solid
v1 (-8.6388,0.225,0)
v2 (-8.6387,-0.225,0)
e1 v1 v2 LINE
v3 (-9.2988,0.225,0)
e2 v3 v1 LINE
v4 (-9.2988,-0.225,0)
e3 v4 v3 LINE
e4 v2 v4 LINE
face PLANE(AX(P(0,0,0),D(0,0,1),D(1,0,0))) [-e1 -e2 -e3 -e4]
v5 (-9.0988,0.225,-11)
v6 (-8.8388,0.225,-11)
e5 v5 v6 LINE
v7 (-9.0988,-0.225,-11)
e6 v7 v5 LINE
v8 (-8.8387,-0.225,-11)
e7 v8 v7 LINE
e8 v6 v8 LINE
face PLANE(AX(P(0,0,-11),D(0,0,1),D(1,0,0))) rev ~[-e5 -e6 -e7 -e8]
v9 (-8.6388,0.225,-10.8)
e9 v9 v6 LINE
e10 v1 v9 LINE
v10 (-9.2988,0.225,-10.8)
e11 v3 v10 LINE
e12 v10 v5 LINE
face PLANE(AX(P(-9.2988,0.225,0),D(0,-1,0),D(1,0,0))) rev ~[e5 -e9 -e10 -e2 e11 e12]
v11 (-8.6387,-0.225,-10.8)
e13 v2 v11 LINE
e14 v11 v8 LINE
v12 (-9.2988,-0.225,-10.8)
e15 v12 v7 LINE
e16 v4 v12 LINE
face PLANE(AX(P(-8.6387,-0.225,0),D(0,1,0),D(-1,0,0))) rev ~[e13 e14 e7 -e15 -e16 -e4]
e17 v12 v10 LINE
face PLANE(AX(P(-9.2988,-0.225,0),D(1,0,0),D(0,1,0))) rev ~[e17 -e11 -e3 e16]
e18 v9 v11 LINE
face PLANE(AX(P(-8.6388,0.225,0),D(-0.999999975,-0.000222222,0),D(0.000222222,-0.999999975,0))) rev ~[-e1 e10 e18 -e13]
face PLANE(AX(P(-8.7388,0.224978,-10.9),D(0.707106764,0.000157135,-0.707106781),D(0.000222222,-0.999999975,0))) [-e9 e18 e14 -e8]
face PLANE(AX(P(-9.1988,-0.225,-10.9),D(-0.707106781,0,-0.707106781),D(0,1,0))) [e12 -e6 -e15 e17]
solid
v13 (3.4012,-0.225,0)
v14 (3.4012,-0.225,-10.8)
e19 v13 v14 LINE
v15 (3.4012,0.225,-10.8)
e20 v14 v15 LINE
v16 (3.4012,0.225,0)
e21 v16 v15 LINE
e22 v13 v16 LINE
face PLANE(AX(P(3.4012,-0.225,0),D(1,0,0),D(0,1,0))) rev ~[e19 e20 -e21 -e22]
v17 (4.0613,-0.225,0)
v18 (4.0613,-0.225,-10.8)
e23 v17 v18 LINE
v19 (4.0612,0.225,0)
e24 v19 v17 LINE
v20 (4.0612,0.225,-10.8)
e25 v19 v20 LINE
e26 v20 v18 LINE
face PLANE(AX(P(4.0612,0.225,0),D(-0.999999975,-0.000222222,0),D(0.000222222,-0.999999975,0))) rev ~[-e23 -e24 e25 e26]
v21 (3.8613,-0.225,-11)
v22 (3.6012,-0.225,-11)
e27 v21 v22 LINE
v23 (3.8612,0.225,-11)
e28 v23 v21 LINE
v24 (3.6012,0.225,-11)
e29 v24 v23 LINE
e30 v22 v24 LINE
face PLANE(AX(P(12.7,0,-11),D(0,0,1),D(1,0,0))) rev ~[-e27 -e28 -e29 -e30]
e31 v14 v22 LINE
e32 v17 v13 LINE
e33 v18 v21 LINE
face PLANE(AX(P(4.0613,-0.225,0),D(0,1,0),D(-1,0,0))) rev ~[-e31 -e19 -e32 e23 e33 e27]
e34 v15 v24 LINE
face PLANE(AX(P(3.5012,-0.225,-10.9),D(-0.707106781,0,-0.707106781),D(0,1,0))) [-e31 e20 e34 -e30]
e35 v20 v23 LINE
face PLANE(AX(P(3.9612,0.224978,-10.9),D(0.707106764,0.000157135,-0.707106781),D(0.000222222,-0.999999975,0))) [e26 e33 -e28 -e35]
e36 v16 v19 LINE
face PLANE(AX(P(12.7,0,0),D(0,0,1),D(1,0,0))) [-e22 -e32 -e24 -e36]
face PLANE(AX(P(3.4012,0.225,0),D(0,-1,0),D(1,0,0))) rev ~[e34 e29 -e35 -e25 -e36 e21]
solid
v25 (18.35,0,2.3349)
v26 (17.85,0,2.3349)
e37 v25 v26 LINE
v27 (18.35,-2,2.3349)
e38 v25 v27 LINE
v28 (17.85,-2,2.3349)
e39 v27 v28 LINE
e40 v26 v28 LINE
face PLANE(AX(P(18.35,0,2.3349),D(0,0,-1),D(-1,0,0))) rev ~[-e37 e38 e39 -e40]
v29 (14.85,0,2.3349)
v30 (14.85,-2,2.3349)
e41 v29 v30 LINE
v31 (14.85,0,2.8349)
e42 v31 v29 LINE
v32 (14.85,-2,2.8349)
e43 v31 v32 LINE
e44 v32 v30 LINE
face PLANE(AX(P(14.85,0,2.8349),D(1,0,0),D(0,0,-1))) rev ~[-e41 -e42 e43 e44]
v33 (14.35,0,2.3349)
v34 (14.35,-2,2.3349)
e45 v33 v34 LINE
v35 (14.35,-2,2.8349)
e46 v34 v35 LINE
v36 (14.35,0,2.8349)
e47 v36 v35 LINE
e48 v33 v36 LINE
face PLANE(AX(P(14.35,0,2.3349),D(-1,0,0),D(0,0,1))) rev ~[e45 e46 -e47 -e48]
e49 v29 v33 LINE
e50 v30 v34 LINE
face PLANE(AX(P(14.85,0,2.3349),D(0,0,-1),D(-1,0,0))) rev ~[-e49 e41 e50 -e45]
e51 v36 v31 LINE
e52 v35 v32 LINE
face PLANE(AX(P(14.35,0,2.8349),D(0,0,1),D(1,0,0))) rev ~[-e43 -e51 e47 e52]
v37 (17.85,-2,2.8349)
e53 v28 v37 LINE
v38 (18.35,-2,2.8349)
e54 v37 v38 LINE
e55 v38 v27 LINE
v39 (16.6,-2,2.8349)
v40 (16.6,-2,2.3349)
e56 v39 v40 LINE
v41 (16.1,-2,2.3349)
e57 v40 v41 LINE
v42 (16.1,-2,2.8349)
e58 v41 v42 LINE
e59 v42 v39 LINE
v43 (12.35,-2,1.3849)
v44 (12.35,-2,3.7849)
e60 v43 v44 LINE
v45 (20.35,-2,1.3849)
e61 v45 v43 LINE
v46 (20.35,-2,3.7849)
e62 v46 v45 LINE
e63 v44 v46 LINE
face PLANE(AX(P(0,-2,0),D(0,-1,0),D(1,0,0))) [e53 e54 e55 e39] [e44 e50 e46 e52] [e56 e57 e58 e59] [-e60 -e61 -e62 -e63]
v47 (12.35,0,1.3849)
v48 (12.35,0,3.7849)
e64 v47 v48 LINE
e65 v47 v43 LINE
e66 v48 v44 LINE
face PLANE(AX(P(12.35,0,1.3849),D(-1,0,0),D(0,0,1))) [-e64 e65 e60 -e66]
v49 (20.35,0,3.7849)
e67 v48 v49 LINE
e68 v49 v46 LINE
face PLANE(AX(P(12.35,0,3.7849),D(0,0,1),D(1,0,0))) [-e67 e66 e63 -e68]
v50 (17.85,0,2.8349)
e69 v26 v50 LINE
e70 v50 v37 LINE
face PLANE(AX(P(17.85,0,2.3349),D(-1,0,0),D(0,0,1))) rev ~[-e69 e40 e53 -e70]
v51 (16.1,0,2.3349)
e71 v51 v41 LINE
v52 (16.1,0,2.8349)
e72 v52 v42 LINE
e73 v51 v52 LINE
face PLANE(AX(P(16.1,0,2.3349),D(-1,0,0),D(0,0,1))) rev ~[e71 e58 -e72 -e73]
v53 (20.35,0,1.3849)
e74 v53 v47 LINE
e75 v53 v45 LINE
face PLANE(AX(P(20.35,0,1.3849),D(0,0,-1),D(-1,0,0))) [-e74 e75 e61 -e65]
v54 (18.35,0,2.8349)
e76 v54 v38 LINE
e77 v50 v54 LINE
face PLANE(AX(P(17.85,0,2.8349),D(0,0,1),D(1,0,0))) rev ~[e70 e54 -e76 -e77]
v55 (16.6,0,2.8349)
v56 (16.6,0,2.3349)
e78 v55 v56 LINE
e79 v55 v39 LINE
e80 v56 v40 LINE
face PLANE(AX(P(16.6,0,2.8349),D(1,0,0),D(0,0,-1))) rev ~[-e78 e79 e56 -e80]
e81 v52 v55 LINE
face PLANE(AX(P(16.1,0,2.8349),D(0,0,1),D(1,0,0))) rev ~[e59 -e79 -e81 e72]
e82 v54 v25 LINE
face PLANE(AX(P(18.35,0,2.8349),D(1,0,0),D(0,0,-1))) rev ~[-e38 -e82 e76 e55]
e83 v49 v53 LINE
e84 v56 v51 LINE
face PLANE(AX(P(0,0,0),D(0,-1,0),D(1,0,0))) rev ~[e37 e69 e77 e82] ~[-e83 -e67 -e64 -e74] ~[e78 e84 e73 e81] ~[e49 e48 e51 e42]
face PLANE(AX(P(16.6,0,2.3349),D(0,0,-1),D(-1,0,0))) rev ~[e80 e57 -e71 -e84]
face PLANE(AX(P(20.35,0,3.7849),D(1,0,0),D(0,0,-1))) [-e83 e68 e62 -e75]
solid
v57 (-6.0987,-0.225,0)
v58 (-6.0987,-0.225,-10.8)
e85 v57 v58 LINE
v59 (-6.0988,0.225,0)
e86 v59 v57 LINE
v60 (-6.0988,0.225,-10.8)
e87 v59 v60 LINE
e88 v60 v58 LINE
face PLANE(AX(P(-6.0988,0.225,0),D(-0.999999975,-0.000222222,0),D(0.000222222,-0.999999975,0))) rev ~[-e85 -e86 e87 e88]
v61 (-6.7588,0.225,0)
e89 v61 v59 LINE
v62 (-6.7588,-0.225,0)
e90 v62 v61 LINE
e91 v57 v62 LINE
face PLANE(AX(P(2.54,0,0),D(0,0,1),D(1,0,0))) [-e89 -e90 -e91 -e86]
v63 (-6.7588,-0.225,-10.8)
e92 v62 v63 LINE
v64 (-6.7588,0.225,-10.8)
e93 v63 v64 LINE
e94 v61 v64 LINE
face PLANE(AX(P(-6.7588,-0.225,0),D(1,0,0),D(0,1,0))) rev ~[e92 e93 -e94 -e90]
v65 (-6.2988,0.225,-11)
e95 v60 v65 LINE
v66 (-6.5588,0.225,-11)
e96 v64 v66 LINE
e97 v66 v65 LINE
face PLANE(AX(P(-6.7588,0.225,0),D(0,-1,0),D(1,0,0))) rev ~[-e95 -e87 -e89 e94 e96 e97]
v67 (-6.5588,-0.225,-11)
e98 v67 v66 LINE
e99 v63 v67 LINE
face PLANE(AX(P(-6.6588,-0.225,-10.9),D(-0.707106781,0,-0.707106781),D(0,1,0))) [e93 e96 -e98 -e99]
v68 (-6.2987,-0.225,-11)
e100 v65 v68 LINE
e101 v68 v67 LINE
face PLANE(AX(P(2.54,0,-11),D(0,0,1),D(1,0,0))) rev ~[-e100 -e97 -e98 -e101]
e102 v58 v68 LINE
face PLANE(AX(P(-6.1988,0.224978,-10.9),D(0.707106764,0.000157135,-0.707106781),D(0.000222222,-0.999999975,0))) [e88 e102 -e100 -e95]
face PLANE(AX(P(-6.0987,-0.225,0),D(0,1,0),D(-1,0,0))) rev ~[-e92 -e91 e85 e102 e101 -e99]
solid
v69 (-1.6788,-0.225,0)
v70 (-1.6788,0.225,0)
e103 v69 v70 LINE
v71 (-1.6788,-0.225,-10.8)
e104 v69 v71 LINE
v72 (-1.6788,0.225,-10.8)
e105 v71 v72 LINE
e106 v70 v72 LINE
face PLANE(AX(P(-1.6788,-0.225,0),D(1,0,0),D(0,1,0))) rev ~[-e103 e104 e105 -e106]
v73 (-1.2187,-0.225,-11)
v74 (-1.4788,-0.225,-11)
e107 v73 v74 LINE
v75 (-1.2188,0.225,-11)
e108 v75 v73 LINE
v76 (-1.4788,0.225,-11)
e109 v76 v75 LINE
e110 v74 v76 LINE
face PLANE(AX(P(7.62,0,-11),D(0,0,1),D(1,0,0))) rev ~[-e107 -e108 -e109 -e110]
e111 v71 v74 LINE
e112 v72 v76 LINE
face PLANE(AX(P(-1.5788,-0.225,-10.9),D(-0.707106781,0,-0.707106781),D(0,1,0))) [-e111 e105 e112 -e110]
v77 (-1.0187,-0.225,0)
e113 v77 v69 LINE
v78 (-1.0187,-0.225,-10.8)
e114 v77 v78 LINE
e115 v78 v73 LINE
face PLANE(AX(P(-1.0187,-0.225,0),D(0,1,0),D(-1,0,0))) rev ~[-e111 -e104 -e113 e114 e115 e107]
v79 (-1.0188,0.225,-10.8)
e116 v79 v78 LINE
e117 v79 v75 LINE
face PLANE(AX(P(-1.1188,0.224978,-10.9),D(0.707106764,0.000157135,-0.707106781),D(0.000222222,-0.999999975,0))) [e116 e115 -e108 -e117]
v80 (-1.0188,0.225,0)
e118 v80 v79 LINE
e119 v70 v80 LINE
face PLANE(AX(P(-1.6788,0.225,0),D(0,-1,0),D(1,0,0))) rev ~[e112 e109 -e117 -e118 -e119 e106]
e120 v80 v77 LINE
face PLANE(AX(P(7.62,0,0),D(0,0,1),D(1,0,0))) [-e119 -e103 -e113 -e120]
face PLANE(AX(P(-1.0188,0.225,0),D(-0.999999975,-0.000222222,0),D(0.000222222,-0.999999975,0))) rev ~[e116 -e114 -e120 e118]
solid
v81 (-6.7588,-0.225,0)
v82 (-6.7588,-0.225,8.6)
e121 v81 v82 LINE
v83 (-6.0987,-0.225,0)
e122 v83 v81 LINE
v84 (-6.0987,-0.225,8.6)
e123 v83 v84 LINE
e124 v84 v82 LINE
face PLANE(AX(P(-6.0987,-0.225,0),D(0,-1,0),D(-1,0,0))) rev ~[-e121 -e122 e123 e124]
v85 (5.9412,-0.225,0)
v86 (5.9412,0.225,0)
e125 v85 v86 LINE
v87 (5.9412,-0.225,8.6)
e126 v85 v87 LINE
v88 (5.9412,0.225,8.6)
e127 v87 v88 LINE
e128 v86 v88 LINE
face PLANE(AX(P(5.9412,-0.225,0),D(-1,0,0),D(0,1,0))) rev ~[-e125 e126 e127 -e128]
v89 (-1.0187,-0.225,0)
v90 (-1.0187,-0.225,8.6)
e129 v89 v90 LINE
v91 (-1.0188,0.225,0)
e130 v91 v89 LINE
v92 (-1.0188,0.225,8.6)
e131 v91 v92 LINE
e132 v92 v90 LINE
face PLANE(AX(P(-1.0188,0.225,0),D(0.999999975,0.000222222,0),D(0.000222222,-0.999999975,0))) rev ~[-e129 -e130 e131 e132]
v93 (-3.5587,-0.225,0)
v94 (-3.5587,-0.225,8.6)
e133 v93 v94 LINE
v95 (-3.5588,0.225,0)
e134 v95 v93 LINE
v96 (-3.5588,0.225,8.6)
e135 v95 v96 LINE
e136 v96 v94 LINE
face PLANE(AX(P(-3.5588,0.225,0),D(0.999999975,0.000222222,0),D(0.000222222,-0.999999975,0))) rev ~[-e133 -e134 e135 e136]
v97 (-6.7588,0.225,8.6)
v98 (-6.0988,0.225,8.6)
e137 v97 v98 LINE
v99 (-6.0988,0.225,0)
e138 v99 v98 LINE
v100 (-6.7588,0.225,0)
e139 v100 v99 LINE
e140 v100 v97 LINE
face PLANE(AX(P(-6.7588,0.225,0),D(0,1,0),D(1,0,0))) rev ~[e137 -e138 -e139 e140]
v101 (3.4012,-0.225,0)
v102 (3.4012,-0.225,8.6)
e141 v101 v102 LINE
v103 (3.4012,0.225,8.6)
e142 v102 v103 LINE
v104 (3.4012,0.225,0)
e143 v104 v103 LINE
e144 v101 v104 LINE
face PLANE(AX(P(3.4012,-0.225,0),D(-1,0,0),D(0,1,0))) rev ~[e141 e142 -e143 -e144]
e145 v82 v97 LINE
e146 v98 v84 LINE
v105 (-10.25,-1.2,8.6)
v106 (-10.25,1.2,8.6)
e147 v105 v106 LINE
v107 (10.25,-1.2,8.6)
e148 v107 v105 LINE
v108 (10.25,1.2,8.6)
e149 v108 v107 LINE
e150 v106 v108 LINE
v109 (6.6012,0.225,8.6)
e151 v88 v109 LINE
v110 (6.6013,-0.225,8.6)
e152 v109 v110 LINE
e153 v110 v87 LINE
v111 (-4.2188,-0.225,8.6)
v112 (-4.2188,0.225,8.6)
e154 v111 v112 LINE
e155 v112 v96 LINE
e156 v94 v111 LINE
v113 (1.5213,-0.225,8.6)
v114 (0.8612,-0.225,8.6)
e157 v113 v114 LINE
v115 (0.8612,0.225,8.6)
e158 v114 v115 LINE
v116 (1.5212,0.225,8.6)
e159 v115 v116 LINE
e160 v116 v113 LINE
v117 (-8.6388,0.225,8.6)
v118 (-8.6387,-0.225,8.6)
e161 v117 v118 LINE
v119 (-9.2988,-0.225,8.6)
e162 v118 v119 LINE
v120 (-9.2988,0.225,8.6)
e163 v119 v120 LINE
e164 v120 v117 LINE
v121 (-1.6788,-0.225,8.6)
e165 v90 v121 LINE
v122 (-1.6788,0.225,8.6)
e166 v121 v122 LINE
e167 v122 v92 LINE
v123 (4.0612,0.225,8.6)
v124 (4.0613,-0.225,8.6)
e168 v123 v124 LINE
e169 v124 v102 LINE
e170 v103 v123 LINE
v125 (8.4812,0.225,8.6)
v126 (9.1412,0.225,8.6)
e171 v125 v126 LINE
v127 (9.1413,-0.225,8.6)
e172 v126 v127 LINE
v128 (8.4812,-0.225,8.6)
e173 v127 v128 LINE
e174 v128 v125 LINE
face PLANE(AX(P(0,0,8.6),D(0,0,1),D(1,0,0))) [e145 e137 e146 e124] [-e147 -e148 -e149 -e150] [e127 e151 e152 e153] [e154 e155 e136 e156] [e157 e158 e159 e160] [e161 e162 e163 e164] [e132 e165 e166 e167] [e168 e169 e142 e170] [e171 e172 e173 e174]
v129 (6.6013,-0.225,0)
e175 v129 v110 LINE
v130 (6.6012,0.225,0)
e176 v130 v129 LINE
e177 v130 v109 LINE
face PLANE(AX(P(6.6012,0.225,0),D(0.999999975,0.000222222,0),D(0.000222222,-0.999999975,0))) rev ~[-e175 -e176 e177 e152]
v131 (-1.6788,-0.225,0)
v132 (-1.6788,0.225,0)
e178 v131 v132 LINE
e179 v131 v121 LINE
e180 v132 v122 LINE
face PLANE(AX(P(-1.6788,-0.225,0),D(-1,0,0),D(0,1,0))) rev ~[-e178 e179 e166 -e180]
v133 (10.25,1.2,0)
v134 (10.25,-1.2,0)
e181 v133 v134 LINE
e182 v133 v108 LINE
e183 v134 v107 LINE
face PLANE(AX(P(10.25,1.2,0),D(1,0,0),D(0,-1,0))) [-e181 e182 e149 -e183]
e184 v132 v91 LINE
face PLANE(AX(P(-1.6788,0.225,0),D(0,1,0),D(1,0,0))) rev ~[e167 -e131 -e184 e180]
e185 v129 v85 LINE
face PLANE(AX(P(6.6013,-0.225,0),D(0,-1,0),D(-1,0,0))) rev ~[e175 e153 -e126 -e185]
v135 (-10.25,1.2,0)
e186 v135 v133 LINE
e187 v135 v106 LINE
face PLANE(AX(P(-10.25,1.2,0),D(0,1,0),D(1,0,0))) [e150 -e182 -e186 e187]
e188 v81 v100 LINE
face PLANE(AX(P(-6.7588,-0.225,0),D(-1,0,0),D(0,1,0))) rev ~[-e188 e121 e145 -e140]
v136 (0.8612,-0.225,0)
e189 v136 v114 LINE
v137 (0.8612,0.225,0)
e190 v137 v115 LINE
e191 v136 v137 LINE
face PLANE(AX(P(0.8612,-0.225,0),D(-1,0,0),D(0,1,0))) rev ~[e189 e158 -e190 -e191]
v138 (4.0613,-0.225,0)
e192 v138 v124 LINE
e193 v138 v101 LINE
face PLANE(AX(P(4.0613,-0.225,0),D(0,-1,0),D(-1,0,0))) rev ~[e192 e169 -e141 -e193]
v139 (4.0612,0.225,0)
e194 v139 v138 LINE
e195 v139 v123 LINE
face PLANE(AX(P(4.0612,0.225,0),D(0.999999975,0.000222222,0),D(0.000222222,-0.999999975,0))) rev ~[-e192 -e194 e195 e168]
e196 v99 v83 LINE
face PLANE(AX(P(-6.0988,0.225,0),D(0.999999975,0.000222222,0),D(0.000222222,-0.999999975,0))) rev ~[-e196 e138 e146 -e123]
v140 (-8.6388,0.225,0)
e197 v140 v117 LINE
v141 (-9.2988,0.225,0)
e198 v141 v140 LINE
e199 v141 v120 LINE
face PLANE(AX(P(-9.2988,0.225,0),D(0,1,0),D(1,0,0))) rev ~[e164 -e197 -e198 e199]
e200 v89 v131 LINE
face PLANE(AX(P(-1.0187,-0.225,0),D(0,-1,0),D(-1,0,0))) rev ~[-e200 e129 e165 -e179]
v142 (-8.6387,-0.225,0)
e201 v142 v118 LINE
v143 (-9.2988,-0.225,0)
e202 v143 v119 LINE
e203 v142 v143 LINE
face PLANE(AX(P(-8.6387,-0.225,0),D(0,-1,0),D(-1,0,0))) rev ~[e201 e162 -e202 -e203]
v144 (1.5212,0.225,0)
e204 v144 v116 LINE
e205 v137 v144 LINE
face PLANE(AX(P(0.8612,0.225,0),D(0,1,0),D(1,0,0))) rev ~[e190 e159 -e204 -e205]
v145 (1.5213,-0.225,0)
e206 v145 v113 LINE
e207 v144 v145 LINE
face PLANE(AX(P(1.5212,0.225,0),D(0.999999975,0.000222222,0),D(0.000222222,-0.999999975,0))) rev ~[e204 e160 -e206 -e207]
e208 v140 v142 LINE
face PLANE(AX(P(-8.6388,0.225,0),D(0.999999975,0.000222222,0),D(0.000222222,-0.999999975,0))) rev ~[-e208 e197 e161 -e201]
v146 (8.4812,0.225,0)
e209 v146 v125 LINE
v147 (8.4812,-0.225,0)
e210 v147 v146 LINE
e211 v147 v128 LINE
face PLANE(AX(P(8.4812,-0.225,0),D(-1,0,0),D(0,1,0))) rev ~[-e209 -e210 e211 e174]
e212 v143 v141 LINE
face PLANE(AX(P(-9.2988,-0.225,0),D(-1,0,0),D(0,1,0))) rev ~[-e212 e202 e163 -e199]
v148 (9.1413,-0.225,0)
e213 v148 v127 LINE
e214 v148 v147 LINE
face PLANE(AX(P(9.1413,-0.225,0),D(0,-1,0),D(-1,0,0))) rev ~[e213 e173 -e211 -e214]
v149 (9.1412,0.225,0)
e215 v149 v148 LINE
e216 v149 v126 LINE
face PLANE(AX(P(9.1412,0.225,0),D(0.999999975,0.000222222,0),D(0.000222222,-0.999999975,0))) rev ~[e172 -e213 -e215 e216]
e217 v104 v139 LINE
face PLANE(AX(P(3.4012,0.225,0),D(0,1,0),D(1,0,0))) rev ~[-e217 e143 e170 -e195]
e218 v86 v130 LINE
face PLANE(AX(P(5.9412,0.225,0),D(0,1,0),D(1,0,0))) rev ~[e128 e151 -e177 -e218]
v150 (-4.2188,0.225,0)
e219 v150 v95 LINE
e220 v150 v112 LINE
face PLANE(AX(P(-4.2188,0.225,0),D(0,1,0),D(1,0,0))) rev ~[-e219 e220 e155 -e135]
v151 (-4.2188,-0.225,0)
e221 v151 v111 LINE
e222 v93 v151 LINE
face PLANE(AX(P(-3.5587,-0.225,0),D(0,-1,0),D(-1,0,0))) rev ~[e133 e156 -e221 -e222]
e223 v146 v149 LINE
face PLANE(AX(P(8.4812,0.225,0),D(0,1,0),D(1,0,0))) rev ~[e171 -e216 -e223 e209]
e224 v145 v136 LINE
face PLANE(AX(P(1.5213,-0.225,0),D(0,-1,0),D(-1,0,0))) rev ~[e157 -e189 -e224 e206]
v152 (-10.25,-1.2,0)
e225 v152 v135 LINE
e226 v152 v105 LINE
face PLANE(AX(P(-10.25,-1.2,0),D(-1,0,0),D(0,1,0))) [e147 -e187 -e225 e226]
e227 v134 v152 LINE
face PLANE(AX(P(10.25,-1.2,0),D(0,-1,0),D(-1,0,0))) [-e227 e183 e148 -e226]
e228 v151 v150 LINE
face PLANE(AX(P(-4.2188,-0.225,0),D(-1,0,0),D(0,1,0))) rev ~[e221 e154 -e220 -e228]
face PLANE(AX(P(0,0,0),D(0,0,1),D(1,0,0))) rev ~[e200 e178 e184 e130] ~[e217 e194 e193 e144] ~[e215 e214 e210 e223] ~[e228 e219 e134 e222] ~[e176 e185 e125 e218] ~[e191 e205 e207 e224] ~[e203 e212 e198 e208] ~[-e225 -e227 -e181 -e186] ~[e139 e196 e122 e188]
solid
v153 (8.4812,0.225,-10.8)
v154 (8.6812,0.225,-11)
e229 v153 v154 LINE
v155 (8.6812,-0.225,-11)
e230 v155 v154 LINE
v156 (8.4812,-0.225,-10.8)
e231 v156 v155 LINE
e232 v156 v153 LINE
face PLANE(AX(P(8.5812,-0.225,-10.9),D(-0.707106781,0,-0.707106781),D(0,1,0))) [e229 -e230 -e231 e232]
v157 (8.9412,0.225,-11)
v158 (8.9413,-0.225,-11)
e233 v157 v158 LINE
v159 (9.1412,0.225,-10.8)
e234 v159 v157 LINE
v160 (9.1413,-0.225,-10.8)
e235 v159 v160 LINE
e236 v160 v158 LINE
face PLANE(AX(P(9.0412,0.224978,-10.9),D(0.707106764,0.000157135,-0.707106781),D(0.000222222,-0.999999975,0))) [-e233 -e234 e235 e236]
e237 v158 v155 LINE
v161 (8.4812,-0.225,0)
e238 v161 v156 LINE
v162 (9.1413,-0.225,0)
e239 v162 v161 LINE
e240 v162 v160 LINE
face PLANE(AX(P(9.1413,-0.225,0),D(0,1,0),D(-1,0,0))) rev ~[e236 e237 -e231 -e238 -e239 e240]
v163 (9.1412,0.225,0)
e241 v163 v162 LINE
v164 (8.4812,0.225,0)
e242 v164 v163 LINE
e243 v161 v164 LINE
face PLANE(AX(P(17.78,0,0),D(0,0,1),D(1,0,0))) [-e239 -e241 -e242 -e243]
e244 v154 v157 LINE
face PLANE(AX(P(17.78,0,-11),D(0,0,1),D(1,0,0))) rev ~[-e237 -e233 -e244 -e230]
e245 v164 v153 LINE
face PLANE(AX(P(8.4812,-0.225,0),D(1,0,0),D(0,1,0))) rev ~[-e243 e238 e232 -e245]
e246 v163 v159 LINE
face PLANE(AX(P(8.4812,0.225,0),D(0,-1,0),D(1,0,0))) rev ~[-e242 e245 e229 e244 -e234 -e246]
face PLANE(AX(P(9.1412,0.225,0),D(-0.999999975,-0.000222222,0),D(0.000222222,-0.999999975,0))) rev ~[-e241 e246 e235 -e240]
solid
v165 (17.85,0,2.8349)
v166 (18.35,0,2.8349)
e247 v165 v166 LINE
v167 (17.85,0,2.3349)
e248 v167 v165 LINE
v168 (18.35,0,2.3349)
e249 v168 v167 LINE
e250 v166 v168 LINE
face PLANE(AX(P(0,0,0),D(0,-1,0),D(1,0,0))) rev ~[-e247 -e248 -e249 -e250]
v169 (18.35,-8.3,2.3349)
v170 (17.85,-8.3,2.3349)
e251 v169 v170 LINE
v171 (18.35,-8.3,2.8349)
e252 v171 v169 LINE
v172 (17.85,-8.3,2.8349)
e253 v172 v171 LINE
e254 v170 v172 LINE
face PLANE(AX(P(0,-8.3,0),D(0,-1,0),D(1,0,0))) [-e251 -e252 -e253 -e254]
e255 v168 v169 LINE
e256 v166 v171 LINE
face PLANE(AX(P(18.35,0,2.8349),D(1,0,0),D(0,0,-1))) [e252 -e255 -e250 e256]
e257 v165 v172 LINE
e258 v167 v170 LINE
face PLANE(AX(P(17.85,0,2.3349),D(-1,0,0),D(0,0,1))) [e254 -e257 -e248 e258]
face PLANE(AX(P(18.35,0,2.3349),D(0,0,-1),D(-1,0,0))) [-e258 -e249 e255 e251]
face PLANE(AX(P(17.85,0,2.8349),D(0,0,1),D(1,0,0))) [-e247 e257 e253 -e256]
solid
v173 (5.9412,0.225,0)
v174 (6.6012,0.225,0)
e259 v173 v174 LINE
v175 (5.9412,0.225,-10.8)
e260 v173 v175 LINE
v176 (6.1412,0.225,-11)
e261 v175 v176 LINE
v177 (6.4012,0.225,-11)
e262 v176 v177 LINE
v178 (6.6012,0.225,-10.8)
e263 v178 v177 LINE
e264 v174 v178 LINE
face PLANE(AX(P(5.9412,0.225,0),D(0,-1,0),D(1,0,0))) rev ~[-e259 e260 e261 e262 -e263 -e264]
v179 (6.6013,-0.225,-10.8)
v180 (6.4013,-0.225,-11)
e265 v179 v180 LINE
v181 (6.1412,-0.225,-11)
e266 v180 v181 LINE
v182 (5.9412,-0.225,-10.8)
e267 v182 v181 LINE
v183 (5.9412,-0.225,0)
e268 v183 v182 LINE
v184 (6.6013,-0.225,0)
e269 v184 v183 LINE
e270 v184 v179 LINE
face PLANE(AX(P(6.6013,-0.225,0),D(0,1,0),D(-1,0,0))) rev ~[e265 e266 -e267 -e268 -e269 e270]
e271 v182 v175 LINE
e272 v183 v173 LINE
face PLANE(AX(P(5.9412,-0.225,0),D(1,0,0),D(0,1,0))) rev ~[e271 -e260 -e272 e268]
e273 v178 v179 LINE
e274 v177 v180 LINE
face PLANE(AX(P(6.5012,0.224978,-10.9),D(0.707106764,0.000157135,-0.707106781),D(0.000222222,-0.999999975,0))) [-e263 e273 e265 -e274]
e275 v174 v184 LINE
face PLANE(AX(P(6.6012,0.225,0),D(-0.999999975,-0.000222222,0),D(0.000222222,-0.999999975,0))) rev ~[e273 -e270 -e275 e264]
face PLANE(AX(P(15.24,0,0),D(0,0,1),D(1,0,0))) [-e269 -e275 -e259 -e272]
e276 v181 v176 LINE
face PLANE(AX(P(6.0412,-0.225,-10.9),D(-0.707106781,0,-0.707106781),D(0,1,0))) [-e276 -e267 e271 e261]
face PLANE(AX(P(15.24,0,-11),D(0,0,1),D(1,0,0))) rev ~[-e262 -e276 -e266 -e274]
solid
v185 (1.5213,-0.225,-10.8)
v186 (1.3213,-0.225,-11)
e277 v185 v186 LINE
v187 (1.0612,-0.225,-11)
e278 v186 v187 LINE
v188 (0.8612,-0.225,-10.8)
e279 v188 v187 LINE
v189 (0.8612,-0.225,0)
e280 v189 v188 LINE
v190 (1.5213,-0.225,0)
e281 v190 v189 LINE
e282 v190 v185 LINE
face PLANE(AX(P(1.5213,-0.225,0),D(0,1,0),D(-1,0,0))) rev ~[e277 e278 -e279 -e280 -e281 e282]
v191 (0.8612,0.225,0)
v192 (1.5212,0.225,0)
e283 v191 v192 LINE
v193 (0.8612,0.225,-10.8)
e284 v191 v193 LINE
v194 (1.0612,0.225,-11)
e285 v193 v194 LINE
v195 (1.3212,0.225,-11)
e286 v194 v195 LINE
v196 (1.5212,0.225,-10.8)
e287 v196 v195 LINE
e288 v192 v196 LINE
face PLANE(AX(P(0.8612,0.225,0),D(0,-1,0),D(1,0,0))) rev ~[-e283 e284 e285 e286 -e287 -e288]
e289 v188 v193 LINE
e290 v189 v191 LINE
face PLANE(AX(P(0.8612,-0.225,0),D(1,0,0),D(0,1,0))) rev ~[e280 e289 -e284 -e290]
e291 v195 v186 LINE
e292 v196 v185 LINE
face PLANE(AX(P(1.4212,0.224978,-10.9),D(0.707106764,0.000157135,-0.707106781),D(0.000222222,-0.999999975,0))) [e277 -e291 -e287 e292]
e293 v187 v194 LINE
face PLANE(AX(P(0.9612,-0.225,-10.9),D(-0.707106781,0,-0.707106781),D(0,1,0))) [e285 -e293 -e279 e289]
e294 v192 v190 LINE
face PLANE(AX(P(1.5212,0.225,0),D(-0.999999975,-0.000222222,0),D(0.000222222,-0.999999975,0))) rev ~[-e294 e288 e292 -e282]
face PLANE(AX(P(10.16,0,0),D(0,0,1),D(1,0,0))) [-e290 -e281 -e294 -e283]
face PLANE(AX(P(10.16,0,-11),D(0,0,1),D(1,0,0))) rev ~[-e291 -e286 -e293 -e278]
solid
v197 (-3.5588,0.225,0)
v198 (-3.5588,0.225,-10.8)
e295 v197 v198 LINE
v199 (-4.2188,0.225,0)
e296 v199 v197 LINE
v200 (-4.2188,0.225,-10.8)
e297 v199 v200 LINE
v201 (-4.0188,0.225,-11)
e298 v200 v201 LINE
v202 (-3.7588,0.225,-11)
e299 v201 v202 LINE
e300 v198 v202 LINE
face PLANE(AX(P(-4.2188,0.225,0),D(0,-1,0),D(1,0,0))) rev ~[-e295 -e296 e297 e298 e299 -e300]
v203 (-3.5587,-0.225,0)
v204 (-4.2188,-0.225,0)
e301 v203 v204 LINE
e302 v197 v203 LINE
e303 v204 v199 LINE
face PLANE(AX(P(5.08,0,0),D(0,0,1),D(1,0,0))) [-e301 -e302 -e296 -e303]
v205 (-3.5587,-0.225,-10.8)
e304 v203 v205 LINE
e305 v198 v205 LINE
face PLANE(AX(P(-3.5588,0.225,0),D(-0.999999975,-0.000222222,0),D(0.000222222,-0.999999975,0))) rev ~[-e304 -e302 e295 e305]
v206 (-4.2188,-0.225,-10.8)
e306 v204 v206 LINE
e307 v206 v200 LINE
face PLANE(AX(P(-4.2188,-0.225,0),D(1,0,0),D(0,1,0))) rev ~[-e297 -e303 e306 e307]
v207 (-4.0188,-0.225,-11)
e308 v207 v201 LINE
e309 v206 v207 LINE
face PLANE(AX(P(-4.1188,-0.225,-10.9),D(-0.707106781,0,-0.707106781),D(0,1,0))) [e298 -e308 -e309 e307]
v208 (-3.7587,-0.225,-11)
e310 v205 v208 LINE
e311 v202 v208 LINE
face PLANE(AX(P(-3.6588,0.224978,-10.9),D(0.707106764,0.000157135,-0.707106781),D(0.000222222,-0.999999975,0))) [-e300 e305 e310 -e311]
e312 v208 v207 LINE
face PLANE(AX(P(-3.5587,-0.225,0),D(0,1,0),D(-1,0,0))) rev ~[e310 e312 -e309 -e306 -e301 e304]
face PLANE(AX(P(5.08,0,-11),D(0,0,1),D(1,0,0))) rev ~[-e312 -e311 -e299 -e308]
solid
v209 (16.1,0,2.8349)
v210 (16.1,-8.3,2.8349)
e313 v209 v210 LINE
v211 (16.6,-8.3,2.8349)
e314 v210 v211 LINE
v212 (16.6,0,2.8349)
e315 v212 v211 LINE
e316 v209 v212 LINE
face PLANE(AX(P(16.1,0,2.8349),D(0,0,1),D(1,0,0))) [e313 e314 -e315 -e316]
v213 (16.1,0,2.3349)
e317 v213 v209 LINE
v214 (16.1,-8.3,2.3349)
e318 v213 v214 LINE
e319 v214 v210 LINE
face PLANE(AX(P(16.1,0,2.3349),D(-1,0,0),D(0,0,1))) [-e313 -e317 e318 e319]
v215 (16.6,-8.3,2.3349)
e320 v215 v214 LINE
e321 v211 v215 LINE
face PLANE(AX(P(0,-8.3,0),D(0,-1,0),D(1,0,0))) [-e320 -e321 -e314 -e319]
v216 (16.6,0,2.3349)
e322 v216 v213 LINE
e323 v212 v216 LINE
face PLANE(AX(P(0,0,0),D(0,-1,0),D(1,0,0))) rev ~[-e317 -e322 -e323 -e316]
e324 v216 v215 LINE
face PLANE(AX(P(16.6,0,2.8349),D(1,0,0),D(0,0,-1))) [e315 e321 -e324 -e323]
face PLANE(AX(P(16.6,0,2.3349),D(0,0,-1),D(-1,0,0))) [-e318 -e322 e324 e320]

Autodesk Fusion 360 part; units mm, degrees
sketch "Esquisse1" plane through (0, 0, 0) normal (0, 1, 0) x (1, 0, 0)
  line L0 (0, 0) -> (32.7, 0)
  line L1 (32.7, 0) -> (32.7, -24)
  line L2 (32.7, -24) -> (0, -24)
  line L3 (0, -24) -> (0, 0)
  dimension "d1" = 32.7
  dimension "d2" = 24
extrude "Extrusion1" add sketch "Esquisse1" along normal blind 1.15 makes body 1
sketch "Esquisse2" plane through (0, 1.15, 0) normal (0, 1, 0) x (-1, 0, 0)
  line L0 (0, 24) -> (-32.7, 24)
  line L1 (-32.7, 24) -> (-32.7, 0)
  line L2 (-32.7, 0) -> (0, 0)
  line L3 (0, 0) -> (0, 24)
  line L4 (-4.85, 0) -> (-27.85, 0)
  line L5 (-27.85, 0) -> (-27.85, 24)
  line L6 (-27.85, 24) -> (-4.85, 24)
  line L7 (-4.85, 24) -> (-4.85, 0)
  dimension "d5" = 23
extrude "Extrusion2" add sketch "Esquisse2" along normal blind 3 separate body contours L0 L2 L4 L5 L6 L7 makes body 2
ref_plane "Plan de construction1" through (16.35, 2.65, 12) normal (0, 0, 1) x (1, 0, 0)
sketch "Esquisse3" plane through (16.35, 2.65, 12) normal (0, 0, 1) x (1, 0, 0)
  arc A0 (0, 13) -> (-11.5, 1.5) centre (0, 1.5) ccw
  line L0 (0, 1.5) -> (0, 13) construction
  line L1 (0, 1.5) -> (-11.5, 1.5) construction
  line L2 (-11.5, 1.5) -> (11.5, 1.5)
  line L3 (0, 13) -> (0, 1.5)
  point P0 (-11.5, 1.5)
  dimension "d8" = 90
revolve "Révolution1" add sketch "Esquisse3" angle 360 about axis through (16.35, 15.65, 12) along (0, -1, 0) bodies 2
sketch "Esquisse5" plane through (0, 0, 0) normal (0, -1, 0) x (1, 0, 0)
  line L0 (32.7, 24) -> (0, 24)
  line L1 (0, 24) -> (0, 0)
  line L2 (0, 0) -> (32.7, 0)
  line L3 (32.7, 0) -> (32.7, 24)
  circle A0 centre (3, 21) radius 2
  circle A1 centre (29.7, 21) radius 2
  circle A2 centre (29.7, 2.5849) radius 2
  circle A3 centre (3, 2.5849) radius 2
  line L4 (8.3, 23.15) -> (15, 23.15)
  line L5 (15, 23.15) -> (15, 18.85)
  line L6 (15, 18.85) -> (8.3, 18.85)
  line L7 (8.3, 18.85) -> (8.3, 23.15)
  line L8 (16, 23.15) -> (22.7, 23.15)
  line L9 (22.7, 23.15) -> (22.7, 18.85)
  line L10 (22.7, 18.85) -> (16, 18.85)
  line L11 (16, 18.85) -> (16, 23.15)
  line L12 (12.35, 3.7849) -> (20.35, 3.7849)
  line L13 (20.35, 3.7849) -> (20.35, 1.3849)
  line L14 (20.35, 1.3849) -> (12.35, 1.3849)
  line L15 (12.35, 1.3849) -> (12.35, 3.7849)
  line L16 (14.35, 2.8349) -> (14.85, 2.8349)
  line L17 (14.85, 2.8349) -> (14.85, 2.3349)
  line L18 (14.85, 2.3349) -> (14.35, 2.3349)
  line L19 (14.35, 2.3349) -> (14.35, 2.8349)
  line L20 (17.85, 2.8349) -> (18.35, 2.8349)
  line L21 (18.35, 2.8349) -> (18.35, 2.3349)
  line L22 (18.35, 2.3349) -> (17.85, 2.3349)
  line L23 (17.85, 2.3349) -> (17.85, 2.8349)
  line L24 (16.1, 2.8349) -> (16.6, 2.8349)
  line L25 (16.6, 2.8349) -> (16.6, 2.3349)
  line L26 (16.6, 2.3349) -> (16.1, 2.3349)
  line L27 (16.1, 2.3349) -> (16.1, 2.8349)
  line L28 (3, 21) -> (29.7, 21) construction
  line L29 (29.7, 21) -> (29.7, 2.5849) construction
  line L30 (29.7, 2.5849) -> (3, 2.5849) construction
  line L31 (3, 2.5849) -> (3, 21) construction
  line L32 (16.35, 2.3349) -> (16.35, 1.3849) construction
  line L33 (16.35, 1.3849) -> (16.35, 0) construction
  line L34 (18.35, 2.5849) -> (20.35, 2.5849) construction
  dimension "d10" = 4
  dimension "d11" = 4
  dimension "d12" = 4
  dimension "d13" = 4
  dimension "d14" = 3
  dimension "d15" = 3
  dimension "d16" = 3
  dimension "d17" = 2.5849
  dimension "d18" = 6.7
  dimension "d19" = 4.3
  dimension "d20" = 1
  dimension "d21" = 2.15
  dimension "d22" = 7
  dimension "d23" = 8
  dimension "d24" = 0.5
  dimension "d25" = 0.5
  dimension "d26" = 2
  dimension "d27" = 2
  dimension "d29" = 2.4
extrude "Extrusion3" add sketch "Esquisse5" along normal blind 7.8 separate body contours A0 | A1 | A2 | A3 makes body 3 at (4.9901, -5.2, 2.3857) makes body 4 at (31.6901, -5.2, 20.8009) makes body 5 at (4.9901, -5.2, 20.8009) makes body 6 at (31.6901, -5.2, 2.3857)
extrude "Extrusion4" add sketch "Esquisse5" along normal blind 8 separate body contours L4 L5 L6 L7 | L8 L9 L10 L11 makes body 7 at (10.5333, -2.6667, 23.15) makes body 8 at (20.4667, -2.6667, 18.85)
extrude "Extrusion5" add sketch "Esquisse5" along normal blind 8.3 separate body contours L16 L17 L18 L19 | L20 L21 L22 L23 | L24 L25 L26 L27 makes body 9 at (14.5167, -2.7667, 2.8349) makes body 10 at (16.2667, -2.7667, 2.8349) makes body 11 at (17.85, -2.7667, 2.5016)
extrude "Extrusion6" add sketch "Esquisse5" along normal blind 2 separate body contours L12 L13 L14 L15 makes body 12
sketch "Esquisse6" plane through (0, 1.15, 0) normal (0, 1, 0) x (-1, 0, 0)
  line L0 (0, 24) -> (-32.7, 24)
  line L1 (-32.7, 24) -> (-32.7, 0)
  line L2 (-32.7, 0) -> (0, 0)
  line L3 (0, 0) -> (0, 24)
  circle A0 centre (-30.6, 12) radius 1
  line L4 (-32.7, 12) -> (0, 12) construction
  circle A1 centre (-2.1, 12) radius 1
  dimension "d38" = 2
  dimension "d39" = 2.1
  dimension "d40" = 2
  dimension "d41" = 2.1
extrude "Extrusion7" cut sketch "Esquisse6" against normal up to surface (1.15 mm away) contours A0 | A1 bodies 1
equation "d16 = d15"
equation "d21 = d19 / 2"
equation "d27 = d26"
equation "d40 = d38"
equation "d41 = d39"

Autodesk Fusion 360 part; units mm, degrees
sketch "Esquisse1" plane through (0, 0, 0) normal (0, 0, 1) x (1, 0, 0)
  line L0 (10.25, -1.2) -> (-10.25, -1.2)
  line L1 (-10.25, -1.2) -> (-10.25, 1.2)
  line L2 (-10.25, 1.2) -> (10.25, 1.2)
  line L3 (10.25, 1.2) -> (10.25, -1.2)
  line L4 (10.25, -1.2) -> (-10.25, 1.2) construction
  line L5 (-10.25, -1.2) -> (10.25, 1.2) construction
  line L6 (-9.2988, 0.225) -> (-8.6388, 0.225)
  line L7 (-8.6387, 0.225) -> (-8.6387, -0.225)
  line L8 (-8.6387, -0.225) -> (-9.2988, -0.225)
  line L9 (-9.2988, -0.225) -> (-9.2988, 0.225)
  dimension "d1" = 20.5
  dimension "d2" = 2.4
  dimension "d3" = 0.66
  dimension "d4" = 0.45
  dimension "d5" = 0.225
  dimension "d6" = 0.9513
extrude "Extrusion1" add sketch "Esquisse1" along normal blind 8.6 contours L0 L1 L2 L3 | L6 L7 L8 L9 makes body 1
extrude "Extrusion2" add sketch "Esquisse1" against normal blind 11 separate body contours L6 L7 L8 L9 makes body 2
extrude "Extrusion3" cut sketch "Esquisse1" along normal up to surface (8.6 mm away) contours L6 L7 L8 L9 bodies 1
chamfer "Chanfrein1" distance 0.2 angle 45 2 edges at (-8.6387, 0, -11) (-9.2988, 0, -11) on bodies 2
pattern_linear "Réseau R1" count 8 spacing 2.54 along (1, 0, 0) of "Extrusion3"
pattern_linear "Réseau R2" count 8 spacing 2.54 along (1, 0, 0) of bodies 2 makes body 3 at (-6.5388, -0.225, -7.2) makes body 4 at (-3.9988, -0.225, -7.2) makes body 5 at (-1.4588, -0.225, -7.2) makes body 6 at (1.0812, -0.225, -7.2) makes body 7 at (3.6212, -0.225, -7.2) makes body 8 at (6.3812, 0.225, -7.2) makes body 9 at (8.7013, -0.225, -7.2)
equation "d5 = d4 / 2"
equation "d6 = ( d1 - 8 * d3 ) / 16"
